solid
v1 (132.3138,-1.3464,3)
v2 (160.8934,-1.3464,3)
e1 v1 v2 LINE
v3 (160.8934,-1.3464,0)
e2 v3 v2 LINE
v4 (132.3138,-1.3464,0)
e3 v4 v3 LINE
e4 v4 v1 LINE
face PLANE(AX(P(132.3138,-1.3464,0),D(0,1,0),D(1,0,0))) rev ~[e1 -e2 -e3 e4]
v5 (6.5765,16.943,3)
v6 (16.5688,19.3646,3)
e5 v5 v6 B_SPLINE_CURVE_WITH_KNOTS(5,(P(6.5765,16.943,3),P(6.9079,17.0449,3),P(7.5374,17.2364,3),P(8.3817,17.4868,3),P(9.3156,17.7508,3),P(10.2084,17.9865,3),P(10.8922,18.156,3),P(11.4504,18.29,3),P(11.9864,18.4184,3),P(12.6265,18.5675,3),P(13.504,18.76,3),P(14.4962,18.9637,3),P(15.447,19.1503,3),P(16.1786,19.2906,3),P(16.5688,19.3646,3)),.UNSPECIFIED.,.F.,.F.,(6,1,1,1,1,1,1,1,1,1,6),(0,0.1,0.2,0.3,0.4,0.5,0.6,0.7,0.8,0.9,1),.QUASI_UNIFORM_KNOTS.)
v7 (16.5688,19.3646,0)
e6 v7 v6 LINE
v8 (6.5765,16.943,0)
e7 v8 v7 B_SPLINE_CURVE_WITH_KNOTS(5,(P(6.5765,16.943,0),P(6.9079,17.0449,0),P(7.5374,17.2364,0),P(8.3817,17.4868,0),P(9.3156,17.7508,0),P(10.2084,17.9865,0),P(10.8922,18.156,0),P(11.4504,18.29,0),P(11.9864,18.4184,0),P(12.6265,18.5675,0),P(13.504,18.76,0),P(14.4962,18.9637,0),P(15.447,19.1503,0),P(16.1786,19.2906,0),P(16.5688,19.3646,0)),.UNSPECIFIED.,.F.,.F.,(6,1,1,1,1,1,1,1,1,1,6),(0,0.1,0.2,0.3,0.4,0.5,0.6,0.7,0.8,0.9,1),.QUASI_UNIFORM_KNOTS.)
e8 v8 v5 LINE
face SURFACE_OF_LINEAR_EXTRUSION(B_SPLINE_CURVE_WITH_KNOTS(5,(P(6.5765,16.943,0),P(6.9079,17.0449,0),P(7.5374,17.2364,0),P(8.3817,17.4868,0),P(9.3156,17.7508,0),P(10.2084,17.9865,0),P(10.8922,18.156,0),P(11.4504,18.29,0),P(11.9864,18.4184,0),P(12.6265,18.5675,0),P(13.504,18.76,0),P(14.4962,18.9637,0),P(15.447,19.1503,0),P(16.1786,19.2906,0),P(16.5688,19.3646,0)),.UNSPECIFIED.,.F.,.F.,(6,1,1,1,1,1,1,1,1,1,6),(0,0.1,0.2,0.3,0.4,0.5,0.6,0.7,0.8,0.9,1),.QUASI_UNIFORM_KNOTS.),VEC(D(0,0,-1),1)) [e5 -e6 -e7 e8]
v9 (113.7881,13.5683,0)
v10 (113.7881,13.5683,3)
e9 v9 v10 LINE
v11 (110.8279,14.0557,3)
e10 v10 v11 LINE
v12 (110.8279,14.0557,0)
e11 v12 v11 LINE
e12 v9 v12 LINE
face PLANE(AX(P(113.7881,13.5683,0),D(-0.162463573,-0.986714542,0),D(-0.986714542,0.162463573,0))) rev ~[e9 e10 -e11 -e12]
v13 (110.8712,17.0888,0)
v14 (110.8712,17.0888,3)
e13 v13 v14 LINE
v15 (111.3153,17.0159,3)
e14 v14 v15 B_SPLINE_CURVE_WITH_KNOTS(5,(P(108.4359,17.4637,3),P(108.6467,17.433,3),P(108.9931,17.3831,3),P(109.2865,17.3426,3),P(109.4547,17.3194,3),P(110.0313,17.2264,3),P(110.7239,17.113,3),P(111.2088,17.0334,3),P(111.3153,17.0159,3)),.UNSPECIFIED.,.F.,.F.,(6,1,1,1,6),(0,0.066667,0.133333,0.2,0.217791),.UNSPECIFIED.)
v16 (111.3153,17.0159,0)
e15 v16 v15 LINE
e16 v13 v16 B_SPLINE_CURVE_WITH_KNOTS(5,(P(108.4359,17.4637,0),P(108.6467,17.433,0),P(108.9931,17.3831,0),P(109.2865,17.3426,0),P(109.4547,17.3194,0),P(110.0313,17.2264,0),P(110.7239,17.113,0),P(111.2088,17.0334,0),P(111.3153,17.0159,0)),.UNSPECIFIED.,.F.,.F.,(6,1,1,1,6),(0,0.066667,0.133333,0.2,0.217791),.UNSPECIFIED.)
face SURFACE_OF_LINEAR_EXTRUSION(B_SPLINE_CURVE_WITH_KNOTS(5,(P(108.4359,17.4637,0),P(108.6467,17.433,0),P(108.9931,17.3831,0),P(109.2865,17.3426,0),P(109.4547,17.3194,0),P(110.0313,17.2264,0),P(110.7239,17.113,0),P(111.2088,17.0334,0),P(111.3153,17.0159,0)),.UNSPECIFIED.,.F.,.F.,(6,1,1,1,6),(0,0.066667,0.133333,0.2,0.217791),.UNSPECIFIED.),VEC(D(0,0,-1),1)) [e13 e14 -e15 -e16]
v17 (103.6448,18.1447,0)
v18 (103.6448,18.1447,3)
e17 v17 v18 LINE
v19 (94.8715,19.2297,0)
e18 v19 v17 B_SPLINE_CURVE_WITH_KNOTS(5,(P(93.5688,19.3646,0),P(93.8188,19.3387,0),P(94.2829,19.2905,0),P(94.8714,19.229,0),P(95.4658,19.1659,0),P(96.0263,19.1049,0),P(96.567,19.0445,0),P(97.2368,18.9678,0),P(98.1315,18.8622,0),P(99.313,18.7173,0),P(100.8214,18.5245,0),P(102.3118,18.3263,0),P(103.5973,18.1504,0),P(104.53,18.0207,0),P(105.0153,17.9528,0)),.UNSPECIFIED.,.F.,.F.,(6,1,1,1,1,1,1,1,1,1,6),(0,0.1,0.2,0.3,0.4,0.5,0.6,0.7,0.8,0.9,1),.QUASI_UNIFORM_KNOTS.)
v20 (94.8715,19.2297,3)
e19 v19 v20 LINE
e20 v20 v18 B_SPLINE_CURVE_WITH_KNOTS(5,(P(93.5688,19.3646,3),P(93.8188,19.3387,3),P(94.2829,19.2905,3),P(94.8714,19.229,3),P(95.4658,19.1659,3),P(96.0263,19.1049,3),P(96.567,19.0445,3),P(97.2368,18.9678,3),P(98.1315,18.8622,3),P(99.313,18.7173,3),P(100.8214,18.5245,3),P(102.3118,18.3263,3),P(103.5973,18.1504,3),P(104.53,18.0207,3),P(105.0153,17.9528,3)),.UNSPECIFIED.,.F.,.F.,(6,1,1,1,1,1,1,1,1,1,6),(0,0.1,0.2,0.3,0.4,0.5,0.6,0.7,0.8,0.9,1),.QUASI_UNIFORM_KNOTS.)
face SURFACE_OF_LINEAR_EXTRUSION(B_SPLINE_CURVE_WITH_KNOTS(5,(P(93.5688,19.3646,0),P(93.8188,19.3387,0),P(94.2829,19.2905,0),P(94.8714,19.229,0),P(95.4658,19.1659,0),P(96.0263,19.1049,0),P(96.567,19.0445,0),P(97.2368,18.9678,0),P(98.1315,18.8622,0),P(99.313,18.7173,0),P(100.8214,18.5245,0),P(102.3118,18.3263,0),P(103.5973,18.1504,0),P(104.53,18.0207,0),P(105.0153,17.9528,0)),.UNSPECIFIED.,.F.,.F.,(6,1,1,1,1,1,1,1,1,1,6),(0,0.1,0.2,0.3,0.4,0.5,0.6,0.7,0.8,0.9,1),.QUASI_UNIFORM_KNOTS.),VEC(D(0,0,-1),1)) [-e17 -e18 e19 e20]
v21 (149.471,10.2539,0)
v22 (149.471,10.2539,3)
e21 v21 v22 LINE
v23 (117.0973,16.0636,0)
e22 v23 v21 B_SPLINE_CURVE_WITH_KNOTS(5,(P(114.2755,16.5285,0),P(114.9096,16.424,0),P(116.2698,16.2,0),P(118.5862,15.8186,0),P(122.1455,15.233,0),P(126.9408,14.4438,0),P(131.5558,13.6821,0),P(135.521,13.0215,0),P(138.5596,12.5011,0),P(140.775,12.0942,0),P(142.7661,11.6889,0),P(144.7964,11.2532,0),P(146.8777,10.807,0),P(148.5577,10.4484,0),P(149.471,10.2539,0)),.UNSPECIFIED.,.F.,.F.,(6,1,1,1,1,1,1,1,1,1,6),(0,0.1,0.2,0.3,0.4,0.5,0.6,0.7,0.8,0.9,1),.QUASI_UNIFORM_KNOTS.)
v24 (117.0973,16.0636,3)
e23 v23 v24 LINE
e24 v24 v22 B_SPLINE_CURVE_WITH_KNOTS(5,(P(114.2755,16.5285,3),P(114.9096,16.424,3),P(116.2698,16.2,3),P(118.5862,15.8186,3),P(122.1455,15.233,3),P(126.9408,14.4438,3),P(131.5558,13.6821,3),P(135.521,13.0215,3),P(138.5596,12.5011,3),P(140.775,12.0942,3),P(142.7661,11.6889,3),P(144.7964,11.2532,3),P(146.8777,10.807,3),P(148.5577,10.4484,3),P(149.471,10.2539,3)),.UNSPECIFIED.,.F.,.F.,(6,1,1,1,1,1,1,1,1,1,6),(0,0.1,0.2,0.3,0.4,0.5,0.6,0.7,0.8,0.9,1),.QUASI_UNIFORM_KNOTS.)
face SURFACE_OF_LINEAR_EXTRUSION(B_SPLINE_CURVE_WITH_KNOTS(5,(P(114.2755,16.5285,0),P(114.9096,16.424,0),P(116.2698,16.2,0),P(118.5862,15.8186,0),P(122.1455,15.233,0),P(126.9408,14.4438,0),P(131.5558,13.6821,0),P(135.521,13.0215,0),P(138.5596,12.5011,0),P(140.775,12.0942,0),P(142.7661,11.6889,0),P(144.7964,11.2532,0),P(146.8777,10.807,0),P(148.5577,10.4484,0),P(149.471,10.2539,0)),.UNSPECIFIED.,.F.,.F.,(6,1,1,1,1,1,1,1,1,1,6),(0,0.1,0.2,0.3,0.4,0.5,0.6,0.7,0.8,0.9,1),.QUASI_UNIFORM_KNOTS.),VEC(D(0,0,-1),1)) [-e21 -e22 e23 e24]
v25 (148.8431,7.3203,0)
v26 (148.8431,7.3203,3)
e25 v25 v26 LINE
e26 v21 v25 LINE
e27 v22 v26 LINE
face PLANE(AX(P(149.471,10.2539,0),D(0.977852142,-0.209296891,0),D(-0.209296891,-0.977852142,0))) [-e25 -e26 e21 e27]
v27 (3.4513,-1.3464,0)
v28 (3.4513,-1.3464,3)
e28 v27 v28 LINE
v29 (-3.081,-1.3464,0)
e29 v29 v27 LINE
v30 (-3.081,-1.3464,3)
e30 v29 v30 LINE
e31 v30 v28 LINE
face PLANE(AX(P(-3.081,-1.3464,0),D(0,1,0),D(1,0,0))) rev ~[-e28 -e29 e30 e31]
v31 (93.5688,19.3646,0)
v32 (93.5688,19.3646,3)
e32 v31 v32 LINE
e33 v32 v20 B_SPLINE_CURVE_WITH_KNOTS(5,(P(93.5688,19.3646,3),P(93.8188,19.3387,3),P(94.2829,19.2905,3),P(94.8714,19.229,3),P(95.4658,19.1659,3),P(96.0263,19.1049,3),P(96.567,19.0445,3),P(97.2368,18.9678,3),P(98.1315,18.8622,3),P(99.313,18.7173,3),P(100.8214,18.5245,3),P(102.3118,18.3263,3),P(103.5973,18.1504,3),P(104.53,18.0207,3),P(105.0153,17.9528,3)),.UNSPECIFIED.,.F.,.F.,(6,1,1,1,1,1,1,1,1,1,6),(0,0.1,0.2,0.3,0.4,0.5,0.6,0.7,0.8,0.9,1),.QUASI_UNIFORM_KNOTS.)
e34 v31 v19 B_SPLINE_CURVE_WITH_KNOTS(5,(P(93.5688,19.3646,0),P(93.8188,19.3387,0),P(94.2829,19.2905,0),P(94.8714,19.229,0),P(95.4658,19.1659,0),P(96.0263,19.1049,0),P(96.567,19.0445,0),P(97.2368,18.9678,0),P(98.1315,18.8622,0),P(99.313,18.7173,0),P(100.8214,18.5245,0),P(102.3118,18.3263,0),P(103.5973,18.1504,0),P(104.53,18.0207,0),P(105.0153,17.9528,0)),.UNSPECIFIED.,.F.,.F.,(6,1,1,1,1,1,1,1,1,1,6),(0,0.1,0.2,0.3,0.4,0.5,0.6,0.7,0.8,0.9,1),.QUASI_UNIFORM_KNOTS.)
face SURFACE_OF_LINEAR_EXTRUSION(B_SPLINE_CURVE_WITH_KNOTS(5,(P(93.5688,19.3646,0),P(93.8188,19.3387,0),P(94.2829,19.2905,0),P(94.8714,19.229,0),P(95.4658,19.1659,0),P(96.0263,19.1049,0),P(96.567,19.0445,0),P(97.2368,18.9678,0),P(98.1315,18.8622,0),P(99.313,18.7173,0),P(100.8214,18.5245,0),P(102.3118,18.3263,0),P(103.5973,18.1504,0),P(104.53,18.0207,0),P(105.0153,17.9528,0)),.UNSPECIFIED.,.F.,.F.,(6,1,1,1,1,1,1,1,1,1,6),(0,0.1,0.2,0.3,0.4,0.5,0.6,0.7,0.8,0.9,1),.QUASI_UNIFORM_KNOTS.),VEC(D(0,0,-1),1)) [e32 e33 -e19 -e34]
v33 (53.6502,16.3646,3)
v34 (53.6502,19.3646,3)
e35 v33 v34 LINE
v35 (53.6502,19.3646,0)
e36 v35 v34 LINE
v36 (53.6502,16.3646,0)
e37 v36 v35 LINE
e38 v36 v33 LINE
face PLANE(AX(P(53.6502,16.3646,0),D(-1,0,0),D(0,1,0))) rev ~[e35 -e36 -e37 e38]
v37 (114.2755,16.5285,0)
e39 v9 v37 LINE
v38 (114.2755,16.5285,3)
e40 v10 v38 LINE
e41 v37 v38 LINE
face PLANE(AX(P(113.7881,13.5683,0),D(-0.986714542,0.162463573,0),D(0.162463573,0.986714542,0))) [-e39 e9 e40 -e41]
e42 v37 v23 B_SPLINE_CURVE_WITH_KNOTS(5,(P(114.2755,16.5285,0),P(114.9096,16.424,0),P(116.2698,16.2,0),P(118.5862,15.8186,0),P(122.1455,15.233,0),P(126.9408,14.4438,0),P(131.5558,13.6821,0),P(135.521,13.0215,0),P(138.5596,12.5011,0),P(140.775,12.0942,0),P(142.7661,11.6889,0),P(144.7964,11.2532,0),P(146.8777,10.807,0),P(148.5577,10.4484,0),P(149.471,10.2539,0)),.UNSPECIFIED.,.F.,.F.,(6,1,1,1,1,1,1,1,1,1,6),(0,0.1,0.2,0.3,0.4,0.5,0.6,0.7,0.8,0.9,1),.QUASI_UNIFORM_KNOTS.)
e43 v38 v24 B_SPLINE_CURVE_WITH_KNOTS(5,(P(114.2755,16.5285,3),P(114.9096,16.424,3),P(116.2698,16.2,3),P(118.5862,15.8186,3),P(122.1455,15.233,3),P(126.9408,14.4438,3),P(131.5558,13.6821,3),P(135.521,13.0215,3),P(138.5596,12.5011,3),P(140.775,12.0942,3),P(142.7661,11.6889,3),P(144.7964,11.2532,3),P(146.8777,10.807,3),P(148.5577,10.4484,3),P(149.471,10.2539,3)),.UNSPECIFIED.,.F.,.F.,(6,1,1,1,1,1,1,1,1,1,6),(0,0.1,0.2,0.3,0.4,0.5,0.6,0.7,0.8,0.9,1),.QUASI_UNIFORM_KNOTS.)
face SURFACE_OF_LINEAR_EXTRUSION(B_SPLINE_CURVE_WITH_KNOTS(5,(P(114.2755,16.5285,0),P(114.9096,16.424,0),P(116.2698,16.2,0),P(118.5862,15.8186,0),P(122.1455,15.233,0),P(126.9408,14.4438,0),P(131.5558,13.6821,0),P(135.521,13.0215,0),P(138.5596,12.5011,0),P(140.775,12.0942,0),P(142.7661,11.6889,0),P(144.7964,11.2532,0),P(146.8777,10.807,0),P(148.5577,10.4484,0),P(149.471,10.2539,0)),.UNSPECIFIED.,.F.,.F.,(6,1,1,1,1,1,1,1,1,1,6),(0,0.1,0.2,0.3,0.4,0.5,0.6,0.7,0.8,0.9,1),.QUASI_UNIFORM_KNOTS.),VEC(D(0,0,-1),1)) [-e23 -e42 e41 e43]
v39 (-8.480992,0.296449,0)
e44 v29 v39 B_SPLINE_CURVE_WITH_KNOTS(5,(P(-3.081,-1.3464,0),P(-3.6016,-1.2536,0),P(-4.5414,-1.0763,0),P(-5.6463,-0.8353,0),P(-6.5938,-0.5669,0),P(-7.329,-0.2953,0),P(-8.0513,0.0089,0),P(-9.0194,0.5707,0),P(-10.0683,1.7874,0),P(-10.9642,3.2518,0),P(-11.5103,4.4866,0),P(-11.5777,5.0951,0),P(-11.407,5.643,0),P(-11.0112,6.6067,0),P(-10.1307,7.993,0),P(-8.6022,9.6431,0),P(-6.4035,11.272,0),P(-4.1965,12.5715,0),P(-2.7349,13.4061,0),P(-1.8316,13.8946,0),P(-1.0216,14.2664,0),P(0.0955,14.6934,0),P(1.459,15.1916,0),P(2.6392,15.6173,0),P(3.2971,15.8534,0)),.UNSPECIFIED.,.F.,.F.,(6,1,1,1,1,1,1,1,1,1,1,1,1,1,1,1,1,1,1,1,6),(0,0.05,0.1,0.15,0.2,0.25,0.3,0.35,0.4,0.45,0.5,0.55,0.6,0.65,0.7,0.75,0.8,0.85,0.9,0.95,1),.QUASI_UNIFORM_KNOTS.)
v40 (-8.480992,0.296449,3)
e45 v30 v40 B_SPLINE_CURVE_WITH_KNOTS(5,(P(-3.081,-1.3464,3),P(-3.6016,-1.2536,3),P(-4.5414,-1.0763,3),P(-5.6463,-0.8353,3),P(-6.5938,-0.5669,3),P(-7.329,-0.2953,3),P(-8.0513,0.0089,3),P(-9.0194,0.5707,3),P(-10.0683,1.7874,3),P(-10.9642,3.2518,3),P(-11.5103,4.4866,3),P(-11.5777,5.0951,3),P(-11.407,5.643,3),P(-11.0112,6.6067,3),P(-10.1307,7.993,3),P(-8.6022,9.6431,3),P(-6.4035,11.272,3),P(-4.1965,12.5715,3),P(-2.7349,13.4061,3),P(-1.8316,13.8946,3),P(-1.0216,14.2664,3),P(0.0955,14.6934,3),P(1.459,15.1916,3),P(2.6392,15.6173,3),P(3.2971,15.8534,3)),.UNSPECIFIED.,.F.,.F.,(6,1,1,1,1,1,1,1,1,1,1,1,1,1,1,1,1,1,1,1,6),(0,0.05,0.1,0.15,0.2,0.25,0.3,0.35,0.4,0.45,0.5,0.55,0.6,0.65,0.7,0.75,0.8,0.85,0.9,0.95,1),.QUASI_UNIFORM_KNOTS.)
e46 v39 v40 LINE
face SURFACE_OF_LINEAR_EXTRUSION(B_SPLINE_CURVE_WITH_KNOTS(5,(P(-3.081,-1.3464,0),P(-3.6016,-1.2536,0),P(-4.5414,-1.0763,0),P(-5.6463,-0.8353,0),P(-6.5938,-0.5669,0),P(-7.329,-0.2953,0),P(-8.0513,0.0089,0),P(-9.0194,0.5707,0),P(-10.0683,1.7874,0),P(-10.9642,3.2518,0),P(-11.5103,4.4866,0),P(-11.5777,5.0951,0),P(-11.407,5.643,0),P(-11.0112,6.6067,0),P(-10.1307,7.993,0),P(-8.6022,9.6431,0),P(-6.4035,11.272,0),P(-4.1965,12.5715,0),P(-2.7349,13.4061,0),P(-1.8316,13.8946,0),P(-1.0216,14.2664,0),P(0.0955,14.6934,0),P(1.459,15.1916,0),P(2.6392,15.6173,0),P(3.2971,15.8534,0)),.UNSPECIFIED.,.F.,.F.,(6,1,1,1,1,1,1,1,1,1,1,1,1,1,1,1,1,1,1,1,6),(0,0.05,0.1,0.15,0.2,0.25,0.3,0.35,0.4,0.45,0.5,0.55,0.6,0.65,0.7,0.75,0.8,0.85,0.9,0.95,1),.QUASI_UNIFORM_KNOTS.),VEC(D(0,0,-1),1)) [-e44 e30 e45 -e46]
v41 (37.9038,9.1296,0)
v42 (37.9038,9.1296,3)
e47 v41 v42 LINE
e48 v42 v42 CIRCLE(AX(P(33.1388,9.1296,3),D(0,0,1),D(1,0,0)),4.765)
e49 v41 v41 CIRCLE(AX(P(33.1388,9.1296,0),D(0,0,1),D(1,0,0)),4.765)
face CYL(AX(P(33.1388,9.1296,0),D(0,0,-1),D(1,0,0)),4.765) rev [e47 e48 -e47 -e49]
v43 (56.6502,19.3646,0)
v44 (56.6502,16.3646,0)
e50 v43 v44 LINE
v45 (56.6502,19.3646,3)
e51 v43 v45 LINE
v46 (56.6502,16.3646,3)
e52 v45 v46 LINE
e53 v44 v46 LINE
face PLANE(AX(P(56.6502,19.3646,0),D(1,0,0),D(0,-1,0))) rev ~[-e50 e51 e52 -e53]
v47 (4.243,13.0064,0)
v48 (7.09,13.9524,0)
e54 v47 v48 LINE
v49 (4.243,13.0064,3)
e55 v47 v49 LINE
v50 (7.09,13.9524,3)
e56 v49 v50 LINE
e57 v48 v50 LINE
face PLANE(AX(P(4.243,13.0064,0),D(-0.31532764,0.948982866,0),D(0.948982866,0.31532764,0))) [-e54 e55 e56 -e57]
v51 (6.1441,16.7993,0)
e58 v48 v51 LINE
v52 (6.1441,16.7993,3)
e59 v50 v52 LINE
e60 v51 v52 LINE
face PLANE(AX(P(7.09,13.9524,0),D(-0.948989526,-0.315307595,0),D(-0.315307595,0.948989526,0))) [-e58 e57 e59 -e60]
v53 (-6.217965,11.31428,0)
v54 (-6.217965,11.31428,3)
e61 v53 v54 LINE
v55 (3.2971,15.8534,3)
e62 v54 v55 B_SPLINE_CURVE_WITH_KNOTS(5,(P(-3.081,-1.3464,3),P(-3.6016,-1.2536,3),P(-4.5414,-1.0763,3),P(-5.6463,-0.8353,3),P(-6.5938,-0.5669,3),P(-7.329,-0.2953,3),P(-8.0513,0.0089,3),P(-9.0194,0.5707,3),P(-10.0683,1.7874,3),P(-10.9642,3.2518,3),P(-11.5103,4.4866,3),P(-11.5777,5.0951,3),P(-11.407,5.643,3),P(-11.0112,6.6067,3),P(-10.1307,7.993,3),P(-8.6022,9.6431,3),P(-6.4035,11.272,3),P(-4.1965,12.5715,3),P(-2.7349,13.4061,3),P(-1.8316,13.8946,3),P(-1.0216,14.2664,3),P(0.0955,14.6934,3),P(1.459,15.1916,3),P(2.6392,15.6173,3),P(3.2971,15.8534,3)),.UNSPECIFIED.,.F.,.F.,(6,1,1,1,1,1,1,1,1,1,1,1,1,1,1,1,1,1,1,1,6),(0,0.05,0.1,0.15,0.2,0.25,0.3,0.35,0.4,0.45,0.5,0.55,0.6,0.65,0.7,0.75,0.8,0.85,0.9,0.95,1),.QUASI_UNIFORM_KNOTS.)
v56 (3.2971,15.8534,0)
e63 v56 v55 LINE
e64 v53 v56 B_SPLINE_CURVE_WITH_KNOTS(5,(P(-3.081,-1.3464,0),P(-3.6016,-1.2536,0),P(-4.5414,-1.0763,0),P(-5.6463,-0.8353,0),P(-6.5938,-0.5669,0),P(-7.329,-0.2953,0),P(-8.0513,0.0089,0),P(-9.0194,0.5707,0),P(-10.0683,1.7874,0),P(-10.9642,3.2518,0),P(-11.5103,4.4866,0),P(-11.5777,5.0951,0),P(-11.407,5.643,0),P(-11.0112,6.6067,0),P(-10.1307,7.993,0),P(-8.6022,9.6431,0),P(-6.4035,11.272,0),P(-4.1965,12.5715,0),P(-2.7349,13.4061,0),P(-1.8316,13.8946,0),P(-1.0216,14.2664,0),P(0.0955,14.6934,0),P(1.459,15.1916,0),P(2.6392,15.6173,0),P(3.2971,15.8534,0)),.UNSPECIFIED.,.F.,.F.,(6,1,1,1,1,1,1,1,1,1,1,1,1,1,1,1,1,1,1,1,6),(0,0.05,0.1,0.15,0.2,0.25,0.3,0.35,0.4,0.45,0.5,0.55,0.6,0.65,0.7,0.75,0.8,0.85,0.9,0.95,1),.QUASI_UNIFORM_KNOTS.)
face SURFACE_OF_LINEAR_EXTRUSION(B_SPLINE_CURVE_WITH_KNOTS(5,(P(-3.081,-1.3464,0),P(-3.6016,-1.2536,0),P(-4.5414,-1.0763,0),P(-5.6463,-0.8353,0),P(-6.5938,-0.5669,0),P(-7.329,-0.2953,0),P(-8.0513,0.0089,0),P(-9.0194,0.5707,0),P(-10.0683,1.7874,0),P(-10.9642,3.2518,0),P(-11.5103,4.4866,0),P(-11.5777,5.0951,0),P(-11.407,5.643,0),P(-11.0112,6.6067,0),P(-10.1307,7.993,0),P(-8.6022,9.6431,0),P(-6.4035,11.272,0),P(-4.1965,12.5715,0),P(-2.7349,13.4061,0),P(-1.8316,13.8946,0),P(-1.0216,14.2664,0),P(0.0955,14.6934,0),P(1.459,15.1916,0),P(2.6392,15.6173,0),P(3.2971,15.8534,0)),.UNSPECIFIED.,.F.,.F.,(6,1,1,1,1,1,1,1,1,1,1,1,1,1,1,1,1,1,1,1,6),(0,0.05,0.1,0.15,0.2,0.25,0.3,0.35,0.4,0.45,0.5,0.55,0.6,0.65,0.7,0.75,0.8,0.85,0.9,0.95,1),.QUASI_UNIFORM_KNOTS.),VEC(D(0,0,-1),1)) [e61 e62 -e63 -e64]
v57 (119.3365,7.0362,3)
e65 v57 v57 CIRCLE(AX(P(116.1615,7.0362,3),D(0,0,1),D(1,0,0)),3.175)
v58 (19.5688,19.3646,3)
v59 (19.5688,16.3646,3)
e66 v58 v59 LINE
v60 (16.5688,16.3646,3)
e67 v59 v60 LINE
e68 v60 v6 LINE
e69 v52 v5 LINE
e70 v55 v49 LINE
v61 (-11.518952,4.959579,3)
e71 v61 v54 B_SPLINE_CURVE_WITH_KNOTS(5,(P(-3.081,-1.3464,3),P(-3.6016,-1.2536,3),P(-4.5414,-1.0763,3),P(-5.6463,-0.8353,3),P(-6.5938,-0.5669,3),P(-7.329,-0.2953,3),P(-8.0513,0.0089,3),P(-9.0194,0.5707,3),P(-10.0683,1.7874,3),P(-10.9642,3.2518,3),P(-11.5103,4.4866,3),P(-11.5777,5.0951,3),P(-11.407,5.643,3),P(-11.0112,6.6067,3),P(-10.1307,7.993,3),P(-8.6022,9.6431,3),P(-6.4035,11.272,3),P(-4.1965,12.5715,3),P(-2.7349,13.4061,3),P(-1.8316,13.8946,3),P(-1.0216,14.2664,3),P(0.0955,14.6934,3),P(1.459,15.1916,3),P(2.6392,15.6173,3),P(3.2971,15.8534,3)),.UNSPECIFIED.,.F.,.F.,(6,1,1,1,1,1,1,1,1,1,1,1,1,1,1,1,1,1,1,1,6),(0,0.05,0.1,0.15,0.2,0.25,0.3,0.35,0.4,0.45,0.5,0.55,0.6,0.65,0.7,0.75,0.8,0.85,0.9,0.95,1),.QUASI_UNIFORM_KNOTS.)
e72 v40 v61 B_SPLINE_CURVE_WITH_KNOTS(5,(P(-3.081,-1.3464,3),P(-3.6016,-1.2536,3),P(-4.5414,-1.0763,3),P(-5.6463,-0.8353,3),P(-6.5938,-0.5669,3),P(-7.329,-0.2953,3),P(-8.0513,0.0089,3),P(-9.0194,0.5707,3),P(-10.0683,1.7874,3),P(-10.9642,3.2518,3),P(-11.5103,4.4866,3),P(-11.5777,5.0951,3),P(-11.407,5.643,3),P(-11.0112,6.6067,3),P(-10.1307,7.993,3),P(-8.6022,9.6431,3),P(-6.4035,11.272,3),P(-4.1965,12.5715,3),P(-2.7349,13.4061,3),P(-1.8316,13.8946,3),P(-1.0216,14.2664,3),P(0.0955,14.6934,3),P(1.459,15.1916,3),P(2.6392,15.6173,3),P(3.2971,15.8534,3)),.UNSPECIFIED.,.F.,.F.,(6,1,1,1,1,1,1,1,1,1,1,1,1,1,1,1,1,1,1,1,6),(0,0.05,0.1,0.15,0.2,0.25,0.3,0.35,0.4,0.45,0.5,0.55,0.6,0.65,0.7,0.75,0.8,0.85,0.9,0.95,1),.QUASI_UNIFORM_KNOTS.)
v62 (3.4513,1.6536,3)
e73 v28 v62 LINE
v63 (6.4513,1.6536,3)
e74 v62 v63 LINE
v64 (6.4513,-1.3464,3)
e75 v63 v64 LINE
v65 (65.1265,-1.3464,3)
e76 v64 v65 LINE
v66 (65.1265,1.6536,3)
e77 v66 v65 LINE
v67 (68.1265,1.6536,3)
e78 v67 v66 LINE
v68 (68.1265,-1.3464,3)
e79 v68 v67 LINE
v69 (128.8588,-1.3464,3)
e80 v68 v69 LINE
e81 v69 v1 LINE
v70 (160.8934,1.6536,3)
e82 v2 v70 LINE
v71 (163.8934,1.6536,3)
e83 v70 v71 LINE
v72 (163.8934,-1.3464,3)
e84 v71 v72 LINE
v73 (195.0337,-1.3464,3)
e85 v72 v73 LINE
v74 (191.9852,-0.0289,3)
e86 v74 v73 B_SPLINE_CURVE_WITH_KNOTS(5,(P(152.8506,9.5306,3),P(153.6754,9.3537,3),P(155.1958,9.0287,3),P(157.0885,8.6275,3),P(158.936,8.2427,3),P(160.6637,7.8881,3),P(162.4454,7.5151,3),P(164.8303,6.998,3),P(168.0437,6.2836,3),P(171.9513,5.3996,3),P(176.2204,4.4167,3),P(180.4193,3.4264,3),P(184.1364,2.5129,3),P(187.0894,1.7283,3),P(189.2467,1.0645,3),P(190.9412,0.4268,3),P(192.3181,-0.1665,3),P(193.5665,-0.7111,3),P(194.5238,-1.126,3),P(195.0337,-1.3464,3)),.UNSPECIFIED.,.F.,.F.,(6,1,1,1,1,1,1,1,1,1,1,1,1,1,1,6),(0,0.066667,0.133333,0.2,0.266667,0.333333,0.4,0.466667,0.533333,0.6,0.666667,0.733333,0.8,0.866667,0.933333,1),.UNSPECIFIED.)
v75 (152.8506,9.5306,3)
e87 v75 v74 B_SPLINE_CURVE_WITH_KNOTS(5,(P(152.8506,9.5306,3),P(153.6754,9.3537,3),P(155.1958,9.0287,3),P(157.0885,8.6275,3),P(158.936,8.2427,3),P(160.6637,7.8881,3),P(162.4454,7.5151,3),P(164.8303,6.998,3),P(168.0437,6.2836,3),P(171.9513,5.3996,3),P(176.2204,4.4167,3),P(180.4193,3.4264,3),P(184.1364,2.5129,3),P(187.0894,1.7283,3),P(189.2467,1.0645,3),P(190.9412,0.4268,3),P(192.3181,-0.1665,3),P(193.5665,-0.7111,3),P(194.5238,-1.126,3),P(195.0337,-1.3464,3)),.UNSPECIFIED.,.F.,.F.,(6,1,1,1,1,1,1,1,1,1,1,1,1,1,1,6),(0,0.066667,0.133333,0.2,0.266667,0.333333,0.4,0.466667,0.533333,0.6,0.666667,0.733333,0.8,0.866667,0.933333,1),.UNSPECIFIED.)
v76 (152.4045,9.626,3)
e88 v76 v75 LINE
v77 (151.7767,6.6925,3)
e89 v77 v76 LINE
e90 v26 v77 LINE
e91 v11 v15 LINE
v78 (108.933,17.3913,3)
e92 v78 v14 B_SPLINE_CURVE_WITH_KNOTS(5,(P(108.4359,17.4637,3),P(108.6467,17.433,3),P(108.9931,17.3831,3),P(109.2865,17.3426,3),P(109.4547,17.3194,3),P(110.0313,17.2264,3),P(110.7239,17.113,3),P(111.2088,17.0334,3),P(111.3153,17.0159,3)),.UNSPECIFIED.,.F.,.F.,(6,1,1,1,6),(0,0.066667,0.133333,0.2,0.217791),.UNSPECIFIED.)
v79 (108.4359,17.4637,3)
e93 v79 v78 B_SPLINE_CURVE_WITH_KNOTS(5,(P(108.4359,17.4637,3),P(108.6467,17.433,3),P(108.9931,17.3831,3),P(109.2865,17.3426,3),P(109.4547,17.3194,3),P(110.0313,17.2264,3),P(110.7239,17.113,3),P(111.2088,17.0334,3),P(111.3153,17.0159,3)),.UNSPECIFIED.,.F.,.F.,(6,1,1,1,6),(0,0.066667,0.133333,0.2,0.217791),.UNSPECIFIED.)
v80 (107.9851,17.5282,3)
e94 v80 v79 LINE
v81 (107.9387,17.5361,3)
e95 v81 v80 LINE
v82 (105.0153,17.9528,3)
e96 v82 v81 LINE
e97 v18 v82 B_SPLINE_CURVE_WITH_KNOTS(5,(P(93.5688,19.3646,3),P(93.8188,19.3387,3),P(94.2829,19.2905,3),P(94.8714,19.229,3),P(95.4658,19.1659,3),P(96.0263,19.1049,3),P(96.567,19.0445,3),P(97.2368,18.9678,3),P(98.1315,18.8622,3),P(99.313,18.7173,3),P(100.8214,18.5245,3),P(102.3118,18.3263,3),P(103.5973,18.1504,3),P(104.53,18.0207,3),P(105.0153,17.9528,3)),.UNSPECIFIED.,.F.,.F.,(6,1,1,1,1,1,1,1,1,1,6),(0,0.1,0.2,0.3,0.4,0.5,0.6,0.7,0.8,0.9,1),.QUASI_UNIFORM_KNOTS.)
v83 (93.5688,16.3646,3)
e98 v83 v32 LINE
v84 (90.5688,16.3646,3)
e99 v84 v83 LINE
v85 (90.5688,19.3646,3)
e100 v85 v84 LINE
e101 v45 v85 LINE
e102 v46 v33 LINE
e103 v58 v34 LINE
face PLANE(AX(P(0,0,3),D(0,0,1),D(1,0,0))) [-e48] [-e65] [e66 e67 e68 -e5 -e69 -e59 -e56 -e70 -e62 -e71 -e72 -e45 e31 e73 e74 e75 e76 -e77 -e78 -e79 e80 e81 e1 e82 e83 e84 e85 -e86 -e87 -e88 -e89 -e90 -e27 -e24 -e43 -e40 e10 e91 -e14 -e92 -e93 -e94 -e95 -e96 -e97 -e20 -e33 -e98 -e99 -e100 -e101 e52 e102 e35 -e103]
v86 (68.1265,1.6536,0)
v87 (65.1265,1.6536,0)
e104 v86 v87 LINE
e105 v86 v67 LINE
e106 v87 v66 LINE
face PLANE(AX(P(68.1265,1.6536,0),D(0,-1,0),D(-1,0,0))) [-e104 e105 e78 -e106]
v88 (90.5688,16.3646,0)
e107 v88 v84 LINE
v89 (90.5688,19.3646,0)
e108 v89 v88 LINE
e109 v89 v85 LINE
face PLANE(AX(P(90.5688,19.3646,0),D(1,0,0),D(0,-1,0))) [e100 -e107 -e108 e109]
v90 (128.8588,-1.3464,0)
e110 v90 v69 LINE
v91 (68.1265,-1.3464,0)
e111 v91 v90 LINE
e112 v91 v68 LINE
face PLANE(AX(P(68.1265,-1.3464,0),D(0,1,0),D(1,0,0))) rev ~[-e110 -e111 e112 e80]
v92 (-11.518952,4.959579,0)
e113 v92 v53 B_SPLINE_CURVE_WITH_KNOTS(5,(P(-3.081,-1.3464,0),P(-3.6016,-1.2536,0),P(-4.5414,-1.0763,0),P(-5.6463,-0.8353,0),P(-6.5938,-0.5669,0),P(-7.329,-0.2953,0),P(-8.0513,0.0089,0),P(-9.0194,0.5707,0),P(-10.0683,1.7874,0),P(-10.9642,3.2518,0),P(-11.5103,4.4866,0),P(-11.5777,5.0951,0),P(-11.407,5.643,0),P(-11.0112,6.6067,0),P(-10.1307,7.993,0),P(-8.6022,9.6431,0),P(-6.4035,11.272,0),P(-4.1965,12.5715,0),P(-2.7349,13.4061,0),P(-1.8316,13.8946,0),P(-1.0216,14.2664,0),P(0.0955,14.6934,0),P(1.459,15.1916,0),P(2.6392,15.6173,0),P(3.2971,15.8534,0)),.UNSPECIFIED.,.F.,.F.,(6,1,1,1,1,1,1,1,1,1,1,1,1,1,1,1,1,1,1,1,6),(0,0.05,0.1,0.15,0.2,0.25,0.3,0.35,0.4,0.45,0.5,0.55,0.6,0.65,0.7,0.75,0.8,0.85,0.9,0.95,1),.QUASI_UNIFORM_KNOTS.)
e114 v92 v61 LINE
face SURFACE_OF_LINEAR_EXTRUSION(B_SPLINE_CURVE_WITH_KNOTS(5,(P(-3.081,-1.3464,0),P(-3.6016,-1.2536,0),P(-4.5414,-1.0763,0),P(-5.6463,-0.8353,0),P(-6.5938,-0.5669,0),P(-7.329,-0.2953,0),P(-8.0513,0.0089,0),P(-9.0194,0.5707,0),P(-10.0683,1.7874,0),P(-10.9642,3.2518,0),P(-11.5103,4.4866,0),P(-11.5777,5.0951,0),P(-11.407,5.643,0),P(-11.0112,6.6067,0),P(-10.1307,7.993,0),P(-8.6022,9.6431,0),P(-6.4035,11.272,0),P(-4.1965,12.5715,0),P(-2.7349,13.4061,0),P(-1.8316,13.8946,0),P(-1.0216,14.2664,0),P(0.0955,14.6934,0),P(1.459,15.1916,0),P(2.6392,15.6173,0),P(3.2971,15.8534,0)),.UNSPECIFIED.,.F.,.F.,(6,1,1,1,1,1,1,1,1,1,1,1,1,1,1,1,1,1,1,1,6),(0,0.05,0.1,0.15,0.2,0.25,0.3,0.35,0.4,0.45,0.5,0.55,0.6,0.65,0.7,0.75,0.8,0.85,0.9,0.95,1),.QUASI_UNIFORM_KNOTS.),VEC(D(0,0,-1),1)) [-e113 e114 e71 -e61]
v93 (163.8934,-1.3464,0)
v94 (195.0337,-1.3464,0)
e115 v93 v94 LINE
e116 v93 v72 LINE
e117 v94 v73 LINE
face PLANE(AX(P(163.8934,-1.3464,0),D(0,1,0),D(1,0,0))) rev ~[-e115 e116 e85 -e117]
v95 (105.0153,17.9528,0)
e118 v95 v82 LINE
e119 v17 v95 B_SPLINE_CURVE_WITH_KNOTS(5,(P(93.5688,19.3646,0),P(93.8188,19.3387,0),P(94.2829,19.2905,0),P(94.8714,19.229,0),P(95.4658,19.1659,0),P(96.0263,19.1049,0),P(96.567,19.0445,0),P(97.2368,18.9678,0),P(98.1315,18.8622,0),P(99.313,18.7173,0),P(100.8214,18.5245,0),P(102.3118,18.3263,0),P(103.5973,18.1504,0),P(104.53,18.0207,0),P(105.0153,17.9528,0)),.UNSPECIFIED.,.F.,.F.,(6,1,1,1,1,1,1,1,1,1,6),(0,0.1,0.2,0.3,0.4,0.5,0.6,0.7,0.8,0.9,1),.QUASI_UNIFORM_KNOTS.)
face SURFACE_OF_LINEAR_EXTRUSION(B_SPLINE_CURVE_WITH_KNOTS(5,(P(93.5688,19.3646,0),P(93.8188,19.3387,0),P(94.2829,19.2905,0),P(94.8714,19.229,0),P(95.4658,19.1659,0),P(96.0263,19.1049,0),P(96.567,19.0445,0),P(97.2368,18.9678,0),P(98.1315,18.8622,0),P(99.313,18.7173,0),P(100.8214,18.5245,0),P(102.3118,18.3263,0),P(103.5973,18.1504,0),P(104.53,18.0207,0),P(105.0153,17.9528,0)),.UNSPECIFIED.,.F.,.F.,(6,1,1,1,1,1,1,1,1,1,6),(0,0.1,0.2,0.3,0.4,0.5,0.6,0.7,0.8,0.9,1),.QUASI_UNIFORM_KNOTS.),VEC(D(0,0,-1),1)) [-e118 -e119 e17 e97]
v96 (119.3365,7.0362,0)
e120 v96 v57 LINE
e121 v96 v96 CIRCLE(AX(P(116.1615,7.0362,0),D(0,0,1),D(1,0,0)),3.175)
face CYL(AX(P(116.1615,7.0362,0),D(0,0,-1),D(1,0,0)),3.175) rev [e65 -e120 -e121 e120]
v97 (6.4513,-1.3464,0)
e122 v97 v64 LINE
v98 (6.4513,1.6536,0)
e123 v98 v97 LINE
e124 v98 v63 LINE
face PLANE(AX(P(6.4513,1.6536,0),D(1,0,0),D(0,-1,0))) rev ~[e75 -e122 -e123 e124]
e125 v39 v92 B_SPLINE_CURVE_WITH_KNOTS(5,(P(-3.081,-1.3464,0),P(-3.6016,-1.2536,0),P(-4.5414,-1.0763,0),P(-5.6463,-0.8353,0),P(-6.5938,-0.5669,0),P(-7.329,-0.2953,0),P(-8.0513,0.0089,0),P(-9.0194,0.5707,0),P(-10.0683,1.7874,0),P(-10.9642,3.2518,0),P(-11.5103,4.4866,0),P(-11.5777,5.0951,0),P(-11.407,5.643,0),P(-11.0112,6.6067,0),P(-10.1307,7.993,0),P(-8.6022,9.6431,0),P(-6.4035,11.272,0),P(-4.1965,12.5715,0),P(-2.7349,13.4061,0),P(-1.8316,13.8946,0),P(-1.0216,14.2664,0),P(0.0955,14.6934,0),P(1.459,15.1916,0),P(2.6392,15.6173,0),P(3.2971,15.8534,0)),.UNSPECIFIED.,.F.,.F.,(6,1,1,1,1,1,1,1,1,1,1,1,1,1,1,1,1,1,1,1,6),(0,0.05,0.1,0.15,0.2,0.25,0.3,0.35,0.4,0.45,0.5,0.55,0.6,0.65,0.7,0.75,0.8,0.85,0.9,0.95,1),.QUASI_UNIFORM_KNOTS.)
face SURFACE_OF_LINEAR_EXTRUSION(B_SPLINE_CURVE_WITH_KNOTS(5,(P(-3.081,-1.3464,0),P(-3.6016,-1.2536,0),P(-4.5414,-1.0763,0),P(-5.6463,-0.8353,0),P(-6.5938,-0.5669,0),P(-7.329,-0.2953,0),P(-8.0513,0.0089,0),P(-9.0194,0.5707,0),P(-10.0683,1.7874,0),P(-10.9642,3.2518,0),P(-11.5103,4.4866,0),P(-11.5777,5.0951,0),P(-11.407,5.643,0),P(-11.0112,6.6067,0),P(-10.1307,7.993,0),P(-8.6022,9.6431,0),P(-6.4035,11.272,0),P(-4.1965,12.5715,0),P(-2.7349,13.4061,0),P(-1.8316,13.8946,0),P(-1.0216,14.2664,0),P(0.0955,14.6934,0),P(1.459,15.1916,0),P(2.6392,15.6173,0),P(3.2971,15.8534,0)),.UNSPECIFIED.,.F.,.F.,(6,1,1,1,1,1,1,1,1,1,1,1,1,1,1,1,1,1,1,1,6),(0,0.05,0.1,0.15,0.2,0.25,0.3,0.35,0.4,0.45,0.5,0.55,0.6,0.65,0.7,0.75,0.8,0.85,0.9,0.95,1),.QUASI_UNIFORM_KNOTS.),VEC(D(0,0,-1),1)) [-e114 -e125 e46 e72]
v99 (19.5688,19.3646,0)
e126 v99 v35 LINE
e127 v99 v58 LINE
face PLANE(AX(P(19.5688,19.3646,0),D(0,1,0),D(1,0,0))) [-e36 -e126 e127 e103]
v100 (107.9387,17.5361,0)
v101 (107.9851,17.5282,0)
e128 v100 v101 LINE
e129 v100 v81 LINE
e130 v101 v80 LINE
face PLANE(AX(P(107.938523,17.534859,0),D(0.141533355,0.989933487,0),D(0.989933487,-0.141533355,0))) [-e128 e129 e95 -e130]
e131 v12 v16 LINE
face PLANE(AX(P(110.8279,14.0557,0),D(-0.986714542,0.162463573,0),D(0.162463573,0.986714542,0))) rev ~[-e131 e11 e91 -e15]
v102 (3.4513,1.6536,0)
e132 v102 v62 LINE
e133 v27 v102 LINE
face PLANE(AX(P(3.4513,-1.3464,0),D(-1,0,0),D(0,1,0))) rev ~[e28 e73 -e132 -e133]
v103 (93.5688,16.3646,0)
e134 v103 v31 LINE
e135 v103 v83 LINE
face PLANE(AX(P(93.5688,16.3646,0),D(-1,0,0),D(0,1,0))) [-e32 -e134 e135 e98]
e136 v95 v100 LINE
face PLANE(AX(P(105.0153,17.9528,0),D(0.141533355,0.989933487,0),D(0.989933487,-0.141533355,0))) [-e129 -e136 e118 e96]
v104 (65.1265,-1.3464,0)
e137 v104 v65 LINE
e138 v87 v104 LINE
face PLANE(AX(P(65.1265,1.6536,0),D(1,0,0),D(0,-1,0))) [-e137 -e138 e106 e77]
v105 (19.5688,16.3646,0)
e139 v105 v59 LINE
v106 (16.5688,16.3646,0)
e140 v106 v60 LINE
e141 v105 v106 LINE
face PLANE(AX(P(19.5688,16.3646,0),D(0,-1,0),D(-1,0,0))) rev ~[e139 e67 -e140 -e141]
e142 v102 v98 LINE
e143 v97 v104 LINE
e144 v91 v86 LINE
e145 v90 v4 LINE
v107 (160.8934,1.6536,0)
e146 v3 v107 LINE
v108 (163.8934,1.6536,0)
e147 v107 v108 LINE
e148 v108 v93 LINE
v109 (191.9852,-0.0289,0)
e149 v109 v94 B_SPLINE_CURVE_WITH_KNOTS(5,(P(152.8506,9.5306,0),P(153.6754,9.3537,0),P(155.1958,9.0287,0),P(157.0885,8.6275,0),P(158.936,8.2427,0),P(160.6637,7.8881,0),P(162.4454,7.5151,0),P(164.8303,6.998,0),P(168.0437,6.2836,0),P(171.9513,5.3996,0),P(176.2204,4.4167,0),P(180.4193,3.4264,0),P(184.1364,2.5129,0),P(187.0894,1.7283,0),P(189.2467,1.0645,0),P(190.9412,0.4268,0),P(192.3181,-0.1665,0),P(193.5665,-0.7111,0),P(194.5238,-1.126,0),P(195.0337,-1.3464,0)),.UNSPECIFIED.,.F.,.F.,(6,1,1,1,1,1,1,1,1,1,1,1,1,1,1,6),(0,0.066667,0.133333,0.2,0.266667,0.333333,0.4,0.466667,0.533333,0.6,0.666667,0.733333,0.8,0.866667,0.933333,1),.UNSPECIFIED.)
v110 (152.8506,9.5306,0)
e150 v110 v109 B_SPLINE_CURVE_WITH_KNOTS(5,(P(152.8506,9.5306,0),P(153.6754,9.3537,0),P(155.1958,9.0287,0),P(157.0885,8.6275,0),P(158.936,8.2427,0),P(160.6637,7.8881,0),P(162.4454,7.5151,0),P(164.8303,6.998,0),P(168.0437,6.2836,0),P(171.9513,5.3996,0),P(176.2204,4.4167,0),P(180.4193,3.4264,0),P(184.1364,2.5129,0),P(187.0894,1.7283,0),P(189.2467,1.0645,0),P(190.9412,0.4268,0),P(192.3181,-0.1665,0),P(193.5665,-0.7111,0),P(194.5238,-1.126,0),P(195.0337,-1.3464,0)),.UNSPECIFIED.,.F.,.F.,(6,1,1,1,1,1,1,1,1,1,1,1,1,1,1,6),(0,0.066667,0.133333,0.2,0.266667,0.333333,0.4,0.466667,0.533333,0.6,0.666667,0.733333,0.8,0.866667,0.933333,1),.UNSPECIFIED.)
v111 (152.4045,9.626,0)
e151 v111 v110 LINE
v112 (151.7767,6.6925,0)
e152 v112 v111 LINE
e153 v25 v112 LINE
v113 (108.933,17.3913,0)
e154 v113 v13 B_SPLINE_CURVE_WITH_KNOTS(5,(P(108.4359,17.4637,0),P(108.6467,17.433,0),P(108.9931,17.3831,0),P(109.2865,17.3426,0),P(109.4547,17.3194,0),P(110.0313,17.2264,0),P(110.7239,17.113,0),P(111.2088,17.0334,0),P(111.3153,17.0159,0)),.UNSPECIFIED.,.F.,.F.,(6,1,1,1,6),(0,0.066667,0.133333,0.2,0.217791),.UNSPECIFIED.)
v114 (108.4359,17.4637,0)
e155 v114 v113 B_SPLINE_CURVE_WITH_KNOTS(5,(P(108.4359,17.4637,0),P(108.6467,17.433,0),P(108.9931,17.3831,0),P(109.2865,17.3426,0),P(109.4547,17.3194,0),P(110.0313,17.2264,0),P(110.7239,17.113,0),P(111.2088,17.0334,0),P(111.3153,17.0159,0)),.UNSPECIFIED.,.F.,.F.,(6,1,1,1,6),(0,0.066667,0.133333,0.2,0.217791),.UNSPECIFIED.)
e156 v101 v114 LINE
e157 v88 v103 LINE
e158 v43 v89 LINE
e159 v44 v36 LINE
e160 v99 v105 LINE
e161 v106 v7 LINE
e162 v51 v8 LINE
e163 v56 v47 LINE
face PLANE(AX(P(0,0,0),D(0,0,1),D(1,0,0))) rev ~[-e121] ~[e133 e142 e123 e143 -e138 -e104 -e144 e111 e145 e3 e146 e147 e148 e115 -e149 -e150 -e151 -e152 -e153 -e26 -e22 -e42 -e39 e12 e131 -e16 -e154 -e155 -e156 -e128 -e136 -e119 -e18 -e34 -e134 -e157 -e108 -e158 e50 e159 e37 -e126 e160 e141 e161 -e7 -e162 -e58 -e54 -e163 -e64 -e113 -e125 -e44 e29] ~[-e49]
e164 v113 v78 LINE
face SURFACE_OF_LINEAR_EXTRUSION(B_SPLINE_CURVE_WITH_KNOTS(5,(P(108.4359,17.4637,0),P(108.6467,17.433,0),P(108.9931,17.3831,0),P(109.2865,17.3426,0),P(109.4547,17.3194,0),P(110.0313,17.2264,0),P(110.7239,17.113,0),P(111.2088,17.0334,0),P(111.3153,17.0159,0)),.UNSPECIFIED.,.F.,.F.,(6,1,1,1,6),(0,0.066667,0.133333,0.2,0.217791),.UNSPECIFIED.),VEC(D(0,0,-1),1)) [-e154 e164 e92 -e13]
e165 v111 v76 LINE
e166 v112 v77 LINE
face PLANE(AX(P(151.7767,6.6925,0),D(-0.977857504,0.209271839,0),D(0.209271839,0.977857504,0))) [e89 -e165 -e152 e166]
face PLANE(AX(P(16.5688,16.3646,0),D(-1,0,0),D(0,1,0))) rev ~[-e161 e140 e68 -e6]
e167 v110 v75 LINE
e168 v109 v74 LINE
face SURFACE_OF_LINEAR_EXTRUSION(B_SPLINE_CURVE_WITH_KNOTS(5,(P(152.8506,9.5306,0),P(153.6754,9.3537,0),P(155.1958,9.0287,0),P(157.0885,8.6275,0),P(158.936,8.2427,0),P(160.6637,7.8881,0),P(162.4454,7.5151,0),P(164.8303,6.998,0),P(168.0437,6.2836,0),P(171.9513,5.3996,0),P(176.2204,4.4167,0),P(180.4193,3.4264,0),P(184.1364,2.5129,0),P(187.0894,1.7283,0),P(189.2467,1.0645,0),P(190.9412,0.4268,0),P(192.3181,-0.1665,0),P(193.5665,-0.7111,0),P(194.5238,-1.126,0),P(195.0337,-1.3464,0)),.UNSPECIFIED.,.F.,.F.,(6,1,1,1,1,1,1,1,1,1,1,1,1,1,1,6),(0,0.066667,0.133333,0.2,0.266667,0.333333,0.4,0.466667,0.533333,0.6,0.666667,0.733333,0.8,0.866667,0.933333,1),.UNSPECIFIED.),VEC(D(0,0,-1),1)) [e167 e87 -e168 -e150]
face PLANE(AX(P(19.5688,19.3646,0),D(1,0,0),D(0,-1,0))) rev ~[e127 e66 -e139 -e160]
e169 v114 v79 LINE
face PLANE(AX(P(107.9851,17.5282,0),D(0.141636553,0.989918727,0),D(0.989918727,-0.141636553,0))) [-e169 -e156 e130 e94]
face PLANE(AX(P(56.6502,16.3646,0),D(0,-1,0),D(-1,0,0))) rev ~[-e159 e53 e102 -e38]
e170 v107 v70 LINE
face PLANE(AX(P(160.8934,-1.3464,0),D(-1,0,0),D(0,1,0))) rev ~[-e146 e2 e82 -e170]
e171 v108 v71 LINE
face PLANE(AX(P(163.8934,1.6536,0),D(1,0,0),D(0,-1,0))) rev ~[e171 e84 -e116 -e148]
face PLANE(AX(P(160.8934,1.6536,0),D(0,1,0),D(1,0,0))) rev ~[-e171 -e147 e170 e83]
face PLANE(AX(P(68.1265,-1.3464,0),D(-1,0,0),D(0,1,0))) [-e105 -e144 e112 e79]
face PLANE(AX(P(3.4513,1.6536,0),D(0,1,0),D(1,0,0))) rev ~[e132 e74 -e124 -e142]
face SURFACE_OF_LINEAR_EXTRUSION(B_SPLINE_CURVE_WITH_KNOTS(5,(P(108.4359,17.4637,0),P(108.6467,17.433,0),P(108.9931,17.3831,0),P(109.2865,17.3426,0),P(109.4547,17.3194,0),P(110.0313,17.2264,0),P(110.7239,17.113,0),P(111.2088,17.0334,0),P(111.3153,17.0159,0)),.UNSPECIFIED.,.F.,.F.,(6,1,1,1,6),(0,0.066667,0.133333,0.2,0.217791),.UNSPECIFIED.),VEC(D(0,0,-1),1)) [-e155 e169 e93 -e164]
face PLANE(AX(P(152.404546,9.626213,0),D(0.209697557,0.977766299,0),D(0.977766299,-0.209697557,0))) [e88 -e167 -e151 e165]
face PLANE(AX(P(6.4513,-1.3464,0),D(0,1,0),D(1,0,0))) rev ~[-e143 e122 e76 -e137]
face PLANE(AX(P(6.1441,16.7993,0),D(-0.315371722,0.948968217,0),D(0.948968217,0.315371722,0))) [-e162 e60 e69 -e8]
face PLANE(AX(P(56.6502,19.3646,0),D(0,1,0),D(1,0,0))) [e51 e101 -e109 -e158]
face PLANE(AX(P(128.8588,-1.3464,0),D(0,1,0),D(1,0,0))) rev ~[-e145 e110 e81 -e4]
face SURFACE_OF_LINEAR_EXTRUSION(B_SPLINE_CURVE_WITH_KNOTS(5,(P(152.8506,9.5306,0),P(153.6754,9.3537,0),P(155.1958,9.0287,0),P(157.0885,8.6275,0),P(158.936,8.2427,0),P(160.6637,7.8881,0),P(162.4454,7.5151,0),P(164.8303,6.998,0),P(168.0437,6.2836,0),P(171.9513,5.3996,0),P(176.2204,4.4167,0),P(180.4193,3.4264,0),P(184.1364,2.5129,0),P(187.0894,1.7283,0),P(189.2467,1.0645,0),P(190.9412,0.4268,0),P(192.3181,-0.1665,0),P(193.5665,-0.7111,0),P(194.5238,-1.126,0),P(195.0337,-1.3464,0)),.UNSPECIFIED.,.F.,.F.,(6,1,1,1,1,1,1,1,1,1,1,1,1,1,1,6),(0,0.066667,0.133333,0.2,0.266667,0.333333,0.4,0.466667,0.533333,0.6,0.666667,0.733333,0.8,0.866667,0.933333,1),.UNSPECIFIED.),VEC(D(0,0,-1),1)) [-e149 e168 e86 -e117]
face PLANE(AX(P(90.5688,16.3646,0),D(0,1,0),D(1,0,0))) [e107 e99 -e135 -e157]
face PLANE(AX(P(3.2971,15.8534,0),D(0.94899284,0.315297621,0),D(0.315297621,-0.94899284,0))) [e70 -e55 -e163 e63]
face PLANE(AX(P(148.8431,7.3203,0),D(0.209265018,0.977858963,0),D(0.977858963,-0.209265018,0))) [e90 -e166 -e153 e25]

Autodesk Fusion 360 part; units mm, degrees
sketch "Sketch1" plane through (0, 0, 0) normal (0, 0, 1) x (1, 0, 0) in component "Airfoil structure"
  spline S0 degree 5 poles (152.8506, 9.5306) (153.6754, 9.3537) (155.1958, 9.0287) (157.0885, 8.6275) (158.936, 8.2427) (160.6637, 7.8881) (162.4454, 7.5151) (164.8303, 6.998) (168.0437, 6.2836) (171.9513, 5.3996) (176.2204, 4.4167) (180.4193, 3.4264) (184.1364, 2.5129) (187.0894, 1.7283) (189.2467, 1.0645) (190.9412, 0.4268) (192.3181, -0.1665) (193.5665, -0.7111) (194.5238, -1.126) (195.0337, -1.3464) knots 0 0 0 0 0 0 0.066667 0.133333 0.2 0.266667 0.333333 0.4 0.466667 0.533333 0.6 0.666667 0.733333 0.8 0.866667 0.933333 1 1 1 1 1 1
  line L0 (148.4907, 10.4656) -> (157.2105, 8.5955)
  line L1 (191.9852, -0.0289) -> (198.0822, -2.6639)
  circle A0 centre (33.1388, 9.1296) radius 4.765
  circle A1 centre (116.1615, 7.0362) radius 3.175
  spline S1 degree 5 poles (-3.081, -1.3464) (-3.6016, -1.2536) (-4.5414, -1.0763) (-5.6463, -0.8353) (-6.5938, -0.5669) (-7.329, -0.2953) (-8.0513, 0.0089) (-9.0194, 0.5707) (-10.0683, 1.7874) (-10.9642, 3.2518) (-11.5103, 4.4866) (-11.5777, 5.0951) (-11.407, 5.643) (-11.0112, 6.6067) (-10.1307, 7.993) (-8.6022, 9.6431) (-6.4035, 11.272) (-4.1965, 12.5715) (-2.7349, 13.4061) (-1.8316, 13.8946) (-1.0216, 14.2664) (0.0955, 14.6934) (1.459, 15.1916) (2.6392, 15.6173) (3.2971, 15.8534) knots 0 0 0 0 0 0 0.05 0.1 0.15 0.2 0.25 0.3 0.35 0.4 0.45 0.5 0.55 0.6 0.65 0.7 0.75 0.8 0.85 0.9 0.95 1 1 1 1 1 1
  line L2 (0.5703, -1.9971) -> (-6.7323, -0.6957)
  line L3 (-0.0118, 14.6656) -> (6.606, 17.0412)
  line L4 (-8.4792, 9.8153) -> (-3.9569, 12.8132)
  line L5 (-11.5034, 4.2257) -> (-11.5345, 5.6935)
  line L6 (-7.2174, -0.5359) -> (-9.7443, 1.1286)
  spline S2 degree 5 poles (93.5688, 19.3646) (93.8188, 19.3387) (94.2829, 19.2905) (94.8714, 19.229) (95.4658, 19.1659) (96.0263, 19.1049) (96.567, 19.0445) (97.2368, 18.9678) (98.1315, 18.8622) (99.313, 18.7173) (100.8214, 18.5245) (102.3118, 18.3263) (103.5973, 18.1504) (104.53, 18.0207) (105.0153, 17.9528) knots 0 0 0 0 0 0 0.1 0.2 0.3 0.4 0.5 0.6 0.7 0.8 0.9 1 1 1 1 1 1
  line L7 (92.266, 19.4996) -> (94.8715, 19.2297)
  line L8 (103.6448, 18.1447) -> (106.3858, 17.761)
  spline S3 degree 5 poles (6.5765, 16.943) (6.9079, 17.0449) (7.5374, 17.2364) (8.3817, 17.4868) (9.3156, 17.7508) (10.2084, 17.9865) (10.8922, 18.156) (11.4504, 18.29) (11.9864, 18.4184) (12.6265, 18.5675) (13.504, 18.76) (14.4962, 18.9637) (15.447, 19.1503) (16.1786, 19.2906) (16.5688, 19.3646) knots 0 0 0 0 0 0 0.1 0.2 0.3 0.4 0.5 0.6 0.7 0.8 0.9 1 1 1 1 1 1
  line L9 (5.4107, 16.5846) -> (7.7424, 17.3015)
  line L10 (15.2328, 19.111) -> (17.9048, 19.6183)
  line L11 (152.4045, 9.626) -> (152.8506, 9.5306)
  line L12 (107.9851, 17.5282) -> (108.4359, 17.4637)
  line L13 (6.1441, 16.7993) -> (6.5765, 16.943)
  line L14 (128.8588, -1.3464) -> (132.3138, -1.3464)
  line L15 (149.471, 10.2539) -> (148.8431, 7.3203)
  line L16 (148.8431, 7.3203) -> (151.7767, 6.6925)
  line L17 (151.7767, 6.6925) -> (152.4045, 9.626)
  line L18 (3.2971, 15.8534) -> (4.243, 13.0064)
  line L19 (4.243, 13.0064) -> (7.09, 13.9524)
  line L20 (7.09, 13.9524) -> (6.1441, 16.7993)
  line L21 (160.8934, -1.3464) -> (160.8934, 1.6536)
  line L22 (160.8934, 1.6536) -> (163.8934, 1.6536)
  line L23 (163.8934, 1.6536) -> (163.8934, -1.3464)
  line L24 (132.3138, -1.3464) -> (160.8934, -1.3464)
  line L25 (163.8934, -1.3464) -> (195.0337, -1.3464)
  line L26 (3.4513, -1.3464) -> (3.4513, 1.6536)
  line L27 (3.4513, 1.6536) -> (6.4513, 1.6536)
  line L28 (6.4513, 1.6536) -> (6.4513, -1.3464)
  line L29 (-3.081, -1.3464) -> (3.4513, -1.3464)
  line L30 (105.0153, 17.9528) -> (107.9851, 17.5282)
  line L31 (19.5688, 19.3646) -> (19.5688, 16.3646)
  line L32 (19.5688, 16.3646) -> (16.5688, 16.3646)
  line L33 (16.5688, 16.3646) -> (16.5688, 19.3646)
  line L34 (90.5688, 19.3646) -> (90.5688, 16.3646)
  line L35 (90.5688, 16.3646) -> (93.5688, 16.3646)
  line L36 (93.5688, 16.3646) -> (93.5688, 19.3646)
  line L37 (113.7881, 13.5683) -> (110.8279, 14.0557)
  line L38 (110.8279, 14.0557) -> (111.3153, 17.0159)
  line L39 (113.7881, 13.5683) -> (114.2755, 16.5285)
  spline S4 degree 5 poles (108.4359, 17.4637) (108.6467, 17.433) (108.9931, 17.3831) (109.2865, 17.3426) (109.4547, 17.3194) (110.0313, 17.2264) (110.7239, 17.113) (111.2088, 17.0334) (111.3153, 17.0159) knots 0 0 0 0 0 0 0.066667 0.133333 0.2 0.217791 0.217791 0.217791 0.217791 0.217791 0.217791
  line L40 (107.9387, 17.5361) -> (108.933, 17.3913)
  line L41 (110.8712, 17.0888) -> (111.7595, 16.9429)
  spline S5 degree 5 poles (114.2755, 16.5285) (114.9096, 16.424) (116.2698, 16.2) (118.5862, 15.8186) (122.1455, 15.233) (126.9408, 14.4438) (131.5558, 13.6821) (135.521, 13.0215) (138.5596, 12.5011) (140.775, 12.0942) (142.7661, 11.6889) (144.7964, 11.2532) (146.8777, 10.807) (148.5577, 10.4484) (149.471, 10.2539) knots 0 0 0 0 0 0 0.1 0.2 0.3 0.4 0.5 0.6 0.7 0.8 0.9 1 1 1 1 1 1
  line L42 (111.4536, 16.9934) -> (117.0973, 16.0636)
  line L43 (143.5745, 11.5101) -> (155.3674, 8.9976)
  line L44 (56.6502, 19.3646) -> (56.6502, 16.3646)
  line L45 (56.6502, 16.3646) -> (53.6502, 16.3646)
  line L46 (53.6502, 16.3646) -> (53.6502, 19.3646)
  line L47 (19.5688, 19.3646) -> (53.6502, 19.3646)
  line L48 (56.6502, 19.3646) -> (90.5688, 19.3646)
  line L49 (68.1265, -1.3464) -> (68.1265, 1.6536)
  line L50 (68.1265, 1.6536) -> (65.1265, 1.6536)
  line L51 (65.1265, 1.6536) -> (65.1265, -1.3464)
  line L52 (6.4513, -1.3464) -> (65.1265, -1.3464)
  line L53 (68.1265, -1.3464) -> (128.8588, -1.3464)
  point P0 (-8.4808, 0.2964)
  point P1 (-11.5189, 4.9596)
  point P2 (-6.2181, 11.3142)
  point P3 (11.4183, 18.2822)
  point P4 (96.5722, 19.0435)
  point P5 (109.7229, 17.2753)
  point P6 (137.8507, 12.6179)
  point P7 (163.7248, 7.2358)
  point P8 (186.791, 1.7868)
  dimension "d38" = 77
  dimension "d53" = 9.53
  dimension "d54" = 6.35
  dimension "d59" = 3
  dimension "d67" = 3
extrude "Extrude2" add sketch "Sketch1" along normal blind 3 contours S0 L0 L1 S1 S2 L7 L8 S3 L11 L12 L13 L14 L15 L16 L17 L18 L19 L20 L21 L22 L23 L24 L25 L26 L27 L28 L29 L30 L31 L32 L33 L34 L35 L36 L37 L38 L39 S4 L40 L41 S5 L42 L44 L45 L46 L47 L48 L49 L50 L51 L52 L53
sketch "Sketch3" plane through (0, 0, 0) normal (0, 0, 1) x (1, 0, 0)
component "Airfoil structure" placed x (1, 0, 0) y (0, 1, 0) z (0, 0, 1) at (0, 0, 0)
